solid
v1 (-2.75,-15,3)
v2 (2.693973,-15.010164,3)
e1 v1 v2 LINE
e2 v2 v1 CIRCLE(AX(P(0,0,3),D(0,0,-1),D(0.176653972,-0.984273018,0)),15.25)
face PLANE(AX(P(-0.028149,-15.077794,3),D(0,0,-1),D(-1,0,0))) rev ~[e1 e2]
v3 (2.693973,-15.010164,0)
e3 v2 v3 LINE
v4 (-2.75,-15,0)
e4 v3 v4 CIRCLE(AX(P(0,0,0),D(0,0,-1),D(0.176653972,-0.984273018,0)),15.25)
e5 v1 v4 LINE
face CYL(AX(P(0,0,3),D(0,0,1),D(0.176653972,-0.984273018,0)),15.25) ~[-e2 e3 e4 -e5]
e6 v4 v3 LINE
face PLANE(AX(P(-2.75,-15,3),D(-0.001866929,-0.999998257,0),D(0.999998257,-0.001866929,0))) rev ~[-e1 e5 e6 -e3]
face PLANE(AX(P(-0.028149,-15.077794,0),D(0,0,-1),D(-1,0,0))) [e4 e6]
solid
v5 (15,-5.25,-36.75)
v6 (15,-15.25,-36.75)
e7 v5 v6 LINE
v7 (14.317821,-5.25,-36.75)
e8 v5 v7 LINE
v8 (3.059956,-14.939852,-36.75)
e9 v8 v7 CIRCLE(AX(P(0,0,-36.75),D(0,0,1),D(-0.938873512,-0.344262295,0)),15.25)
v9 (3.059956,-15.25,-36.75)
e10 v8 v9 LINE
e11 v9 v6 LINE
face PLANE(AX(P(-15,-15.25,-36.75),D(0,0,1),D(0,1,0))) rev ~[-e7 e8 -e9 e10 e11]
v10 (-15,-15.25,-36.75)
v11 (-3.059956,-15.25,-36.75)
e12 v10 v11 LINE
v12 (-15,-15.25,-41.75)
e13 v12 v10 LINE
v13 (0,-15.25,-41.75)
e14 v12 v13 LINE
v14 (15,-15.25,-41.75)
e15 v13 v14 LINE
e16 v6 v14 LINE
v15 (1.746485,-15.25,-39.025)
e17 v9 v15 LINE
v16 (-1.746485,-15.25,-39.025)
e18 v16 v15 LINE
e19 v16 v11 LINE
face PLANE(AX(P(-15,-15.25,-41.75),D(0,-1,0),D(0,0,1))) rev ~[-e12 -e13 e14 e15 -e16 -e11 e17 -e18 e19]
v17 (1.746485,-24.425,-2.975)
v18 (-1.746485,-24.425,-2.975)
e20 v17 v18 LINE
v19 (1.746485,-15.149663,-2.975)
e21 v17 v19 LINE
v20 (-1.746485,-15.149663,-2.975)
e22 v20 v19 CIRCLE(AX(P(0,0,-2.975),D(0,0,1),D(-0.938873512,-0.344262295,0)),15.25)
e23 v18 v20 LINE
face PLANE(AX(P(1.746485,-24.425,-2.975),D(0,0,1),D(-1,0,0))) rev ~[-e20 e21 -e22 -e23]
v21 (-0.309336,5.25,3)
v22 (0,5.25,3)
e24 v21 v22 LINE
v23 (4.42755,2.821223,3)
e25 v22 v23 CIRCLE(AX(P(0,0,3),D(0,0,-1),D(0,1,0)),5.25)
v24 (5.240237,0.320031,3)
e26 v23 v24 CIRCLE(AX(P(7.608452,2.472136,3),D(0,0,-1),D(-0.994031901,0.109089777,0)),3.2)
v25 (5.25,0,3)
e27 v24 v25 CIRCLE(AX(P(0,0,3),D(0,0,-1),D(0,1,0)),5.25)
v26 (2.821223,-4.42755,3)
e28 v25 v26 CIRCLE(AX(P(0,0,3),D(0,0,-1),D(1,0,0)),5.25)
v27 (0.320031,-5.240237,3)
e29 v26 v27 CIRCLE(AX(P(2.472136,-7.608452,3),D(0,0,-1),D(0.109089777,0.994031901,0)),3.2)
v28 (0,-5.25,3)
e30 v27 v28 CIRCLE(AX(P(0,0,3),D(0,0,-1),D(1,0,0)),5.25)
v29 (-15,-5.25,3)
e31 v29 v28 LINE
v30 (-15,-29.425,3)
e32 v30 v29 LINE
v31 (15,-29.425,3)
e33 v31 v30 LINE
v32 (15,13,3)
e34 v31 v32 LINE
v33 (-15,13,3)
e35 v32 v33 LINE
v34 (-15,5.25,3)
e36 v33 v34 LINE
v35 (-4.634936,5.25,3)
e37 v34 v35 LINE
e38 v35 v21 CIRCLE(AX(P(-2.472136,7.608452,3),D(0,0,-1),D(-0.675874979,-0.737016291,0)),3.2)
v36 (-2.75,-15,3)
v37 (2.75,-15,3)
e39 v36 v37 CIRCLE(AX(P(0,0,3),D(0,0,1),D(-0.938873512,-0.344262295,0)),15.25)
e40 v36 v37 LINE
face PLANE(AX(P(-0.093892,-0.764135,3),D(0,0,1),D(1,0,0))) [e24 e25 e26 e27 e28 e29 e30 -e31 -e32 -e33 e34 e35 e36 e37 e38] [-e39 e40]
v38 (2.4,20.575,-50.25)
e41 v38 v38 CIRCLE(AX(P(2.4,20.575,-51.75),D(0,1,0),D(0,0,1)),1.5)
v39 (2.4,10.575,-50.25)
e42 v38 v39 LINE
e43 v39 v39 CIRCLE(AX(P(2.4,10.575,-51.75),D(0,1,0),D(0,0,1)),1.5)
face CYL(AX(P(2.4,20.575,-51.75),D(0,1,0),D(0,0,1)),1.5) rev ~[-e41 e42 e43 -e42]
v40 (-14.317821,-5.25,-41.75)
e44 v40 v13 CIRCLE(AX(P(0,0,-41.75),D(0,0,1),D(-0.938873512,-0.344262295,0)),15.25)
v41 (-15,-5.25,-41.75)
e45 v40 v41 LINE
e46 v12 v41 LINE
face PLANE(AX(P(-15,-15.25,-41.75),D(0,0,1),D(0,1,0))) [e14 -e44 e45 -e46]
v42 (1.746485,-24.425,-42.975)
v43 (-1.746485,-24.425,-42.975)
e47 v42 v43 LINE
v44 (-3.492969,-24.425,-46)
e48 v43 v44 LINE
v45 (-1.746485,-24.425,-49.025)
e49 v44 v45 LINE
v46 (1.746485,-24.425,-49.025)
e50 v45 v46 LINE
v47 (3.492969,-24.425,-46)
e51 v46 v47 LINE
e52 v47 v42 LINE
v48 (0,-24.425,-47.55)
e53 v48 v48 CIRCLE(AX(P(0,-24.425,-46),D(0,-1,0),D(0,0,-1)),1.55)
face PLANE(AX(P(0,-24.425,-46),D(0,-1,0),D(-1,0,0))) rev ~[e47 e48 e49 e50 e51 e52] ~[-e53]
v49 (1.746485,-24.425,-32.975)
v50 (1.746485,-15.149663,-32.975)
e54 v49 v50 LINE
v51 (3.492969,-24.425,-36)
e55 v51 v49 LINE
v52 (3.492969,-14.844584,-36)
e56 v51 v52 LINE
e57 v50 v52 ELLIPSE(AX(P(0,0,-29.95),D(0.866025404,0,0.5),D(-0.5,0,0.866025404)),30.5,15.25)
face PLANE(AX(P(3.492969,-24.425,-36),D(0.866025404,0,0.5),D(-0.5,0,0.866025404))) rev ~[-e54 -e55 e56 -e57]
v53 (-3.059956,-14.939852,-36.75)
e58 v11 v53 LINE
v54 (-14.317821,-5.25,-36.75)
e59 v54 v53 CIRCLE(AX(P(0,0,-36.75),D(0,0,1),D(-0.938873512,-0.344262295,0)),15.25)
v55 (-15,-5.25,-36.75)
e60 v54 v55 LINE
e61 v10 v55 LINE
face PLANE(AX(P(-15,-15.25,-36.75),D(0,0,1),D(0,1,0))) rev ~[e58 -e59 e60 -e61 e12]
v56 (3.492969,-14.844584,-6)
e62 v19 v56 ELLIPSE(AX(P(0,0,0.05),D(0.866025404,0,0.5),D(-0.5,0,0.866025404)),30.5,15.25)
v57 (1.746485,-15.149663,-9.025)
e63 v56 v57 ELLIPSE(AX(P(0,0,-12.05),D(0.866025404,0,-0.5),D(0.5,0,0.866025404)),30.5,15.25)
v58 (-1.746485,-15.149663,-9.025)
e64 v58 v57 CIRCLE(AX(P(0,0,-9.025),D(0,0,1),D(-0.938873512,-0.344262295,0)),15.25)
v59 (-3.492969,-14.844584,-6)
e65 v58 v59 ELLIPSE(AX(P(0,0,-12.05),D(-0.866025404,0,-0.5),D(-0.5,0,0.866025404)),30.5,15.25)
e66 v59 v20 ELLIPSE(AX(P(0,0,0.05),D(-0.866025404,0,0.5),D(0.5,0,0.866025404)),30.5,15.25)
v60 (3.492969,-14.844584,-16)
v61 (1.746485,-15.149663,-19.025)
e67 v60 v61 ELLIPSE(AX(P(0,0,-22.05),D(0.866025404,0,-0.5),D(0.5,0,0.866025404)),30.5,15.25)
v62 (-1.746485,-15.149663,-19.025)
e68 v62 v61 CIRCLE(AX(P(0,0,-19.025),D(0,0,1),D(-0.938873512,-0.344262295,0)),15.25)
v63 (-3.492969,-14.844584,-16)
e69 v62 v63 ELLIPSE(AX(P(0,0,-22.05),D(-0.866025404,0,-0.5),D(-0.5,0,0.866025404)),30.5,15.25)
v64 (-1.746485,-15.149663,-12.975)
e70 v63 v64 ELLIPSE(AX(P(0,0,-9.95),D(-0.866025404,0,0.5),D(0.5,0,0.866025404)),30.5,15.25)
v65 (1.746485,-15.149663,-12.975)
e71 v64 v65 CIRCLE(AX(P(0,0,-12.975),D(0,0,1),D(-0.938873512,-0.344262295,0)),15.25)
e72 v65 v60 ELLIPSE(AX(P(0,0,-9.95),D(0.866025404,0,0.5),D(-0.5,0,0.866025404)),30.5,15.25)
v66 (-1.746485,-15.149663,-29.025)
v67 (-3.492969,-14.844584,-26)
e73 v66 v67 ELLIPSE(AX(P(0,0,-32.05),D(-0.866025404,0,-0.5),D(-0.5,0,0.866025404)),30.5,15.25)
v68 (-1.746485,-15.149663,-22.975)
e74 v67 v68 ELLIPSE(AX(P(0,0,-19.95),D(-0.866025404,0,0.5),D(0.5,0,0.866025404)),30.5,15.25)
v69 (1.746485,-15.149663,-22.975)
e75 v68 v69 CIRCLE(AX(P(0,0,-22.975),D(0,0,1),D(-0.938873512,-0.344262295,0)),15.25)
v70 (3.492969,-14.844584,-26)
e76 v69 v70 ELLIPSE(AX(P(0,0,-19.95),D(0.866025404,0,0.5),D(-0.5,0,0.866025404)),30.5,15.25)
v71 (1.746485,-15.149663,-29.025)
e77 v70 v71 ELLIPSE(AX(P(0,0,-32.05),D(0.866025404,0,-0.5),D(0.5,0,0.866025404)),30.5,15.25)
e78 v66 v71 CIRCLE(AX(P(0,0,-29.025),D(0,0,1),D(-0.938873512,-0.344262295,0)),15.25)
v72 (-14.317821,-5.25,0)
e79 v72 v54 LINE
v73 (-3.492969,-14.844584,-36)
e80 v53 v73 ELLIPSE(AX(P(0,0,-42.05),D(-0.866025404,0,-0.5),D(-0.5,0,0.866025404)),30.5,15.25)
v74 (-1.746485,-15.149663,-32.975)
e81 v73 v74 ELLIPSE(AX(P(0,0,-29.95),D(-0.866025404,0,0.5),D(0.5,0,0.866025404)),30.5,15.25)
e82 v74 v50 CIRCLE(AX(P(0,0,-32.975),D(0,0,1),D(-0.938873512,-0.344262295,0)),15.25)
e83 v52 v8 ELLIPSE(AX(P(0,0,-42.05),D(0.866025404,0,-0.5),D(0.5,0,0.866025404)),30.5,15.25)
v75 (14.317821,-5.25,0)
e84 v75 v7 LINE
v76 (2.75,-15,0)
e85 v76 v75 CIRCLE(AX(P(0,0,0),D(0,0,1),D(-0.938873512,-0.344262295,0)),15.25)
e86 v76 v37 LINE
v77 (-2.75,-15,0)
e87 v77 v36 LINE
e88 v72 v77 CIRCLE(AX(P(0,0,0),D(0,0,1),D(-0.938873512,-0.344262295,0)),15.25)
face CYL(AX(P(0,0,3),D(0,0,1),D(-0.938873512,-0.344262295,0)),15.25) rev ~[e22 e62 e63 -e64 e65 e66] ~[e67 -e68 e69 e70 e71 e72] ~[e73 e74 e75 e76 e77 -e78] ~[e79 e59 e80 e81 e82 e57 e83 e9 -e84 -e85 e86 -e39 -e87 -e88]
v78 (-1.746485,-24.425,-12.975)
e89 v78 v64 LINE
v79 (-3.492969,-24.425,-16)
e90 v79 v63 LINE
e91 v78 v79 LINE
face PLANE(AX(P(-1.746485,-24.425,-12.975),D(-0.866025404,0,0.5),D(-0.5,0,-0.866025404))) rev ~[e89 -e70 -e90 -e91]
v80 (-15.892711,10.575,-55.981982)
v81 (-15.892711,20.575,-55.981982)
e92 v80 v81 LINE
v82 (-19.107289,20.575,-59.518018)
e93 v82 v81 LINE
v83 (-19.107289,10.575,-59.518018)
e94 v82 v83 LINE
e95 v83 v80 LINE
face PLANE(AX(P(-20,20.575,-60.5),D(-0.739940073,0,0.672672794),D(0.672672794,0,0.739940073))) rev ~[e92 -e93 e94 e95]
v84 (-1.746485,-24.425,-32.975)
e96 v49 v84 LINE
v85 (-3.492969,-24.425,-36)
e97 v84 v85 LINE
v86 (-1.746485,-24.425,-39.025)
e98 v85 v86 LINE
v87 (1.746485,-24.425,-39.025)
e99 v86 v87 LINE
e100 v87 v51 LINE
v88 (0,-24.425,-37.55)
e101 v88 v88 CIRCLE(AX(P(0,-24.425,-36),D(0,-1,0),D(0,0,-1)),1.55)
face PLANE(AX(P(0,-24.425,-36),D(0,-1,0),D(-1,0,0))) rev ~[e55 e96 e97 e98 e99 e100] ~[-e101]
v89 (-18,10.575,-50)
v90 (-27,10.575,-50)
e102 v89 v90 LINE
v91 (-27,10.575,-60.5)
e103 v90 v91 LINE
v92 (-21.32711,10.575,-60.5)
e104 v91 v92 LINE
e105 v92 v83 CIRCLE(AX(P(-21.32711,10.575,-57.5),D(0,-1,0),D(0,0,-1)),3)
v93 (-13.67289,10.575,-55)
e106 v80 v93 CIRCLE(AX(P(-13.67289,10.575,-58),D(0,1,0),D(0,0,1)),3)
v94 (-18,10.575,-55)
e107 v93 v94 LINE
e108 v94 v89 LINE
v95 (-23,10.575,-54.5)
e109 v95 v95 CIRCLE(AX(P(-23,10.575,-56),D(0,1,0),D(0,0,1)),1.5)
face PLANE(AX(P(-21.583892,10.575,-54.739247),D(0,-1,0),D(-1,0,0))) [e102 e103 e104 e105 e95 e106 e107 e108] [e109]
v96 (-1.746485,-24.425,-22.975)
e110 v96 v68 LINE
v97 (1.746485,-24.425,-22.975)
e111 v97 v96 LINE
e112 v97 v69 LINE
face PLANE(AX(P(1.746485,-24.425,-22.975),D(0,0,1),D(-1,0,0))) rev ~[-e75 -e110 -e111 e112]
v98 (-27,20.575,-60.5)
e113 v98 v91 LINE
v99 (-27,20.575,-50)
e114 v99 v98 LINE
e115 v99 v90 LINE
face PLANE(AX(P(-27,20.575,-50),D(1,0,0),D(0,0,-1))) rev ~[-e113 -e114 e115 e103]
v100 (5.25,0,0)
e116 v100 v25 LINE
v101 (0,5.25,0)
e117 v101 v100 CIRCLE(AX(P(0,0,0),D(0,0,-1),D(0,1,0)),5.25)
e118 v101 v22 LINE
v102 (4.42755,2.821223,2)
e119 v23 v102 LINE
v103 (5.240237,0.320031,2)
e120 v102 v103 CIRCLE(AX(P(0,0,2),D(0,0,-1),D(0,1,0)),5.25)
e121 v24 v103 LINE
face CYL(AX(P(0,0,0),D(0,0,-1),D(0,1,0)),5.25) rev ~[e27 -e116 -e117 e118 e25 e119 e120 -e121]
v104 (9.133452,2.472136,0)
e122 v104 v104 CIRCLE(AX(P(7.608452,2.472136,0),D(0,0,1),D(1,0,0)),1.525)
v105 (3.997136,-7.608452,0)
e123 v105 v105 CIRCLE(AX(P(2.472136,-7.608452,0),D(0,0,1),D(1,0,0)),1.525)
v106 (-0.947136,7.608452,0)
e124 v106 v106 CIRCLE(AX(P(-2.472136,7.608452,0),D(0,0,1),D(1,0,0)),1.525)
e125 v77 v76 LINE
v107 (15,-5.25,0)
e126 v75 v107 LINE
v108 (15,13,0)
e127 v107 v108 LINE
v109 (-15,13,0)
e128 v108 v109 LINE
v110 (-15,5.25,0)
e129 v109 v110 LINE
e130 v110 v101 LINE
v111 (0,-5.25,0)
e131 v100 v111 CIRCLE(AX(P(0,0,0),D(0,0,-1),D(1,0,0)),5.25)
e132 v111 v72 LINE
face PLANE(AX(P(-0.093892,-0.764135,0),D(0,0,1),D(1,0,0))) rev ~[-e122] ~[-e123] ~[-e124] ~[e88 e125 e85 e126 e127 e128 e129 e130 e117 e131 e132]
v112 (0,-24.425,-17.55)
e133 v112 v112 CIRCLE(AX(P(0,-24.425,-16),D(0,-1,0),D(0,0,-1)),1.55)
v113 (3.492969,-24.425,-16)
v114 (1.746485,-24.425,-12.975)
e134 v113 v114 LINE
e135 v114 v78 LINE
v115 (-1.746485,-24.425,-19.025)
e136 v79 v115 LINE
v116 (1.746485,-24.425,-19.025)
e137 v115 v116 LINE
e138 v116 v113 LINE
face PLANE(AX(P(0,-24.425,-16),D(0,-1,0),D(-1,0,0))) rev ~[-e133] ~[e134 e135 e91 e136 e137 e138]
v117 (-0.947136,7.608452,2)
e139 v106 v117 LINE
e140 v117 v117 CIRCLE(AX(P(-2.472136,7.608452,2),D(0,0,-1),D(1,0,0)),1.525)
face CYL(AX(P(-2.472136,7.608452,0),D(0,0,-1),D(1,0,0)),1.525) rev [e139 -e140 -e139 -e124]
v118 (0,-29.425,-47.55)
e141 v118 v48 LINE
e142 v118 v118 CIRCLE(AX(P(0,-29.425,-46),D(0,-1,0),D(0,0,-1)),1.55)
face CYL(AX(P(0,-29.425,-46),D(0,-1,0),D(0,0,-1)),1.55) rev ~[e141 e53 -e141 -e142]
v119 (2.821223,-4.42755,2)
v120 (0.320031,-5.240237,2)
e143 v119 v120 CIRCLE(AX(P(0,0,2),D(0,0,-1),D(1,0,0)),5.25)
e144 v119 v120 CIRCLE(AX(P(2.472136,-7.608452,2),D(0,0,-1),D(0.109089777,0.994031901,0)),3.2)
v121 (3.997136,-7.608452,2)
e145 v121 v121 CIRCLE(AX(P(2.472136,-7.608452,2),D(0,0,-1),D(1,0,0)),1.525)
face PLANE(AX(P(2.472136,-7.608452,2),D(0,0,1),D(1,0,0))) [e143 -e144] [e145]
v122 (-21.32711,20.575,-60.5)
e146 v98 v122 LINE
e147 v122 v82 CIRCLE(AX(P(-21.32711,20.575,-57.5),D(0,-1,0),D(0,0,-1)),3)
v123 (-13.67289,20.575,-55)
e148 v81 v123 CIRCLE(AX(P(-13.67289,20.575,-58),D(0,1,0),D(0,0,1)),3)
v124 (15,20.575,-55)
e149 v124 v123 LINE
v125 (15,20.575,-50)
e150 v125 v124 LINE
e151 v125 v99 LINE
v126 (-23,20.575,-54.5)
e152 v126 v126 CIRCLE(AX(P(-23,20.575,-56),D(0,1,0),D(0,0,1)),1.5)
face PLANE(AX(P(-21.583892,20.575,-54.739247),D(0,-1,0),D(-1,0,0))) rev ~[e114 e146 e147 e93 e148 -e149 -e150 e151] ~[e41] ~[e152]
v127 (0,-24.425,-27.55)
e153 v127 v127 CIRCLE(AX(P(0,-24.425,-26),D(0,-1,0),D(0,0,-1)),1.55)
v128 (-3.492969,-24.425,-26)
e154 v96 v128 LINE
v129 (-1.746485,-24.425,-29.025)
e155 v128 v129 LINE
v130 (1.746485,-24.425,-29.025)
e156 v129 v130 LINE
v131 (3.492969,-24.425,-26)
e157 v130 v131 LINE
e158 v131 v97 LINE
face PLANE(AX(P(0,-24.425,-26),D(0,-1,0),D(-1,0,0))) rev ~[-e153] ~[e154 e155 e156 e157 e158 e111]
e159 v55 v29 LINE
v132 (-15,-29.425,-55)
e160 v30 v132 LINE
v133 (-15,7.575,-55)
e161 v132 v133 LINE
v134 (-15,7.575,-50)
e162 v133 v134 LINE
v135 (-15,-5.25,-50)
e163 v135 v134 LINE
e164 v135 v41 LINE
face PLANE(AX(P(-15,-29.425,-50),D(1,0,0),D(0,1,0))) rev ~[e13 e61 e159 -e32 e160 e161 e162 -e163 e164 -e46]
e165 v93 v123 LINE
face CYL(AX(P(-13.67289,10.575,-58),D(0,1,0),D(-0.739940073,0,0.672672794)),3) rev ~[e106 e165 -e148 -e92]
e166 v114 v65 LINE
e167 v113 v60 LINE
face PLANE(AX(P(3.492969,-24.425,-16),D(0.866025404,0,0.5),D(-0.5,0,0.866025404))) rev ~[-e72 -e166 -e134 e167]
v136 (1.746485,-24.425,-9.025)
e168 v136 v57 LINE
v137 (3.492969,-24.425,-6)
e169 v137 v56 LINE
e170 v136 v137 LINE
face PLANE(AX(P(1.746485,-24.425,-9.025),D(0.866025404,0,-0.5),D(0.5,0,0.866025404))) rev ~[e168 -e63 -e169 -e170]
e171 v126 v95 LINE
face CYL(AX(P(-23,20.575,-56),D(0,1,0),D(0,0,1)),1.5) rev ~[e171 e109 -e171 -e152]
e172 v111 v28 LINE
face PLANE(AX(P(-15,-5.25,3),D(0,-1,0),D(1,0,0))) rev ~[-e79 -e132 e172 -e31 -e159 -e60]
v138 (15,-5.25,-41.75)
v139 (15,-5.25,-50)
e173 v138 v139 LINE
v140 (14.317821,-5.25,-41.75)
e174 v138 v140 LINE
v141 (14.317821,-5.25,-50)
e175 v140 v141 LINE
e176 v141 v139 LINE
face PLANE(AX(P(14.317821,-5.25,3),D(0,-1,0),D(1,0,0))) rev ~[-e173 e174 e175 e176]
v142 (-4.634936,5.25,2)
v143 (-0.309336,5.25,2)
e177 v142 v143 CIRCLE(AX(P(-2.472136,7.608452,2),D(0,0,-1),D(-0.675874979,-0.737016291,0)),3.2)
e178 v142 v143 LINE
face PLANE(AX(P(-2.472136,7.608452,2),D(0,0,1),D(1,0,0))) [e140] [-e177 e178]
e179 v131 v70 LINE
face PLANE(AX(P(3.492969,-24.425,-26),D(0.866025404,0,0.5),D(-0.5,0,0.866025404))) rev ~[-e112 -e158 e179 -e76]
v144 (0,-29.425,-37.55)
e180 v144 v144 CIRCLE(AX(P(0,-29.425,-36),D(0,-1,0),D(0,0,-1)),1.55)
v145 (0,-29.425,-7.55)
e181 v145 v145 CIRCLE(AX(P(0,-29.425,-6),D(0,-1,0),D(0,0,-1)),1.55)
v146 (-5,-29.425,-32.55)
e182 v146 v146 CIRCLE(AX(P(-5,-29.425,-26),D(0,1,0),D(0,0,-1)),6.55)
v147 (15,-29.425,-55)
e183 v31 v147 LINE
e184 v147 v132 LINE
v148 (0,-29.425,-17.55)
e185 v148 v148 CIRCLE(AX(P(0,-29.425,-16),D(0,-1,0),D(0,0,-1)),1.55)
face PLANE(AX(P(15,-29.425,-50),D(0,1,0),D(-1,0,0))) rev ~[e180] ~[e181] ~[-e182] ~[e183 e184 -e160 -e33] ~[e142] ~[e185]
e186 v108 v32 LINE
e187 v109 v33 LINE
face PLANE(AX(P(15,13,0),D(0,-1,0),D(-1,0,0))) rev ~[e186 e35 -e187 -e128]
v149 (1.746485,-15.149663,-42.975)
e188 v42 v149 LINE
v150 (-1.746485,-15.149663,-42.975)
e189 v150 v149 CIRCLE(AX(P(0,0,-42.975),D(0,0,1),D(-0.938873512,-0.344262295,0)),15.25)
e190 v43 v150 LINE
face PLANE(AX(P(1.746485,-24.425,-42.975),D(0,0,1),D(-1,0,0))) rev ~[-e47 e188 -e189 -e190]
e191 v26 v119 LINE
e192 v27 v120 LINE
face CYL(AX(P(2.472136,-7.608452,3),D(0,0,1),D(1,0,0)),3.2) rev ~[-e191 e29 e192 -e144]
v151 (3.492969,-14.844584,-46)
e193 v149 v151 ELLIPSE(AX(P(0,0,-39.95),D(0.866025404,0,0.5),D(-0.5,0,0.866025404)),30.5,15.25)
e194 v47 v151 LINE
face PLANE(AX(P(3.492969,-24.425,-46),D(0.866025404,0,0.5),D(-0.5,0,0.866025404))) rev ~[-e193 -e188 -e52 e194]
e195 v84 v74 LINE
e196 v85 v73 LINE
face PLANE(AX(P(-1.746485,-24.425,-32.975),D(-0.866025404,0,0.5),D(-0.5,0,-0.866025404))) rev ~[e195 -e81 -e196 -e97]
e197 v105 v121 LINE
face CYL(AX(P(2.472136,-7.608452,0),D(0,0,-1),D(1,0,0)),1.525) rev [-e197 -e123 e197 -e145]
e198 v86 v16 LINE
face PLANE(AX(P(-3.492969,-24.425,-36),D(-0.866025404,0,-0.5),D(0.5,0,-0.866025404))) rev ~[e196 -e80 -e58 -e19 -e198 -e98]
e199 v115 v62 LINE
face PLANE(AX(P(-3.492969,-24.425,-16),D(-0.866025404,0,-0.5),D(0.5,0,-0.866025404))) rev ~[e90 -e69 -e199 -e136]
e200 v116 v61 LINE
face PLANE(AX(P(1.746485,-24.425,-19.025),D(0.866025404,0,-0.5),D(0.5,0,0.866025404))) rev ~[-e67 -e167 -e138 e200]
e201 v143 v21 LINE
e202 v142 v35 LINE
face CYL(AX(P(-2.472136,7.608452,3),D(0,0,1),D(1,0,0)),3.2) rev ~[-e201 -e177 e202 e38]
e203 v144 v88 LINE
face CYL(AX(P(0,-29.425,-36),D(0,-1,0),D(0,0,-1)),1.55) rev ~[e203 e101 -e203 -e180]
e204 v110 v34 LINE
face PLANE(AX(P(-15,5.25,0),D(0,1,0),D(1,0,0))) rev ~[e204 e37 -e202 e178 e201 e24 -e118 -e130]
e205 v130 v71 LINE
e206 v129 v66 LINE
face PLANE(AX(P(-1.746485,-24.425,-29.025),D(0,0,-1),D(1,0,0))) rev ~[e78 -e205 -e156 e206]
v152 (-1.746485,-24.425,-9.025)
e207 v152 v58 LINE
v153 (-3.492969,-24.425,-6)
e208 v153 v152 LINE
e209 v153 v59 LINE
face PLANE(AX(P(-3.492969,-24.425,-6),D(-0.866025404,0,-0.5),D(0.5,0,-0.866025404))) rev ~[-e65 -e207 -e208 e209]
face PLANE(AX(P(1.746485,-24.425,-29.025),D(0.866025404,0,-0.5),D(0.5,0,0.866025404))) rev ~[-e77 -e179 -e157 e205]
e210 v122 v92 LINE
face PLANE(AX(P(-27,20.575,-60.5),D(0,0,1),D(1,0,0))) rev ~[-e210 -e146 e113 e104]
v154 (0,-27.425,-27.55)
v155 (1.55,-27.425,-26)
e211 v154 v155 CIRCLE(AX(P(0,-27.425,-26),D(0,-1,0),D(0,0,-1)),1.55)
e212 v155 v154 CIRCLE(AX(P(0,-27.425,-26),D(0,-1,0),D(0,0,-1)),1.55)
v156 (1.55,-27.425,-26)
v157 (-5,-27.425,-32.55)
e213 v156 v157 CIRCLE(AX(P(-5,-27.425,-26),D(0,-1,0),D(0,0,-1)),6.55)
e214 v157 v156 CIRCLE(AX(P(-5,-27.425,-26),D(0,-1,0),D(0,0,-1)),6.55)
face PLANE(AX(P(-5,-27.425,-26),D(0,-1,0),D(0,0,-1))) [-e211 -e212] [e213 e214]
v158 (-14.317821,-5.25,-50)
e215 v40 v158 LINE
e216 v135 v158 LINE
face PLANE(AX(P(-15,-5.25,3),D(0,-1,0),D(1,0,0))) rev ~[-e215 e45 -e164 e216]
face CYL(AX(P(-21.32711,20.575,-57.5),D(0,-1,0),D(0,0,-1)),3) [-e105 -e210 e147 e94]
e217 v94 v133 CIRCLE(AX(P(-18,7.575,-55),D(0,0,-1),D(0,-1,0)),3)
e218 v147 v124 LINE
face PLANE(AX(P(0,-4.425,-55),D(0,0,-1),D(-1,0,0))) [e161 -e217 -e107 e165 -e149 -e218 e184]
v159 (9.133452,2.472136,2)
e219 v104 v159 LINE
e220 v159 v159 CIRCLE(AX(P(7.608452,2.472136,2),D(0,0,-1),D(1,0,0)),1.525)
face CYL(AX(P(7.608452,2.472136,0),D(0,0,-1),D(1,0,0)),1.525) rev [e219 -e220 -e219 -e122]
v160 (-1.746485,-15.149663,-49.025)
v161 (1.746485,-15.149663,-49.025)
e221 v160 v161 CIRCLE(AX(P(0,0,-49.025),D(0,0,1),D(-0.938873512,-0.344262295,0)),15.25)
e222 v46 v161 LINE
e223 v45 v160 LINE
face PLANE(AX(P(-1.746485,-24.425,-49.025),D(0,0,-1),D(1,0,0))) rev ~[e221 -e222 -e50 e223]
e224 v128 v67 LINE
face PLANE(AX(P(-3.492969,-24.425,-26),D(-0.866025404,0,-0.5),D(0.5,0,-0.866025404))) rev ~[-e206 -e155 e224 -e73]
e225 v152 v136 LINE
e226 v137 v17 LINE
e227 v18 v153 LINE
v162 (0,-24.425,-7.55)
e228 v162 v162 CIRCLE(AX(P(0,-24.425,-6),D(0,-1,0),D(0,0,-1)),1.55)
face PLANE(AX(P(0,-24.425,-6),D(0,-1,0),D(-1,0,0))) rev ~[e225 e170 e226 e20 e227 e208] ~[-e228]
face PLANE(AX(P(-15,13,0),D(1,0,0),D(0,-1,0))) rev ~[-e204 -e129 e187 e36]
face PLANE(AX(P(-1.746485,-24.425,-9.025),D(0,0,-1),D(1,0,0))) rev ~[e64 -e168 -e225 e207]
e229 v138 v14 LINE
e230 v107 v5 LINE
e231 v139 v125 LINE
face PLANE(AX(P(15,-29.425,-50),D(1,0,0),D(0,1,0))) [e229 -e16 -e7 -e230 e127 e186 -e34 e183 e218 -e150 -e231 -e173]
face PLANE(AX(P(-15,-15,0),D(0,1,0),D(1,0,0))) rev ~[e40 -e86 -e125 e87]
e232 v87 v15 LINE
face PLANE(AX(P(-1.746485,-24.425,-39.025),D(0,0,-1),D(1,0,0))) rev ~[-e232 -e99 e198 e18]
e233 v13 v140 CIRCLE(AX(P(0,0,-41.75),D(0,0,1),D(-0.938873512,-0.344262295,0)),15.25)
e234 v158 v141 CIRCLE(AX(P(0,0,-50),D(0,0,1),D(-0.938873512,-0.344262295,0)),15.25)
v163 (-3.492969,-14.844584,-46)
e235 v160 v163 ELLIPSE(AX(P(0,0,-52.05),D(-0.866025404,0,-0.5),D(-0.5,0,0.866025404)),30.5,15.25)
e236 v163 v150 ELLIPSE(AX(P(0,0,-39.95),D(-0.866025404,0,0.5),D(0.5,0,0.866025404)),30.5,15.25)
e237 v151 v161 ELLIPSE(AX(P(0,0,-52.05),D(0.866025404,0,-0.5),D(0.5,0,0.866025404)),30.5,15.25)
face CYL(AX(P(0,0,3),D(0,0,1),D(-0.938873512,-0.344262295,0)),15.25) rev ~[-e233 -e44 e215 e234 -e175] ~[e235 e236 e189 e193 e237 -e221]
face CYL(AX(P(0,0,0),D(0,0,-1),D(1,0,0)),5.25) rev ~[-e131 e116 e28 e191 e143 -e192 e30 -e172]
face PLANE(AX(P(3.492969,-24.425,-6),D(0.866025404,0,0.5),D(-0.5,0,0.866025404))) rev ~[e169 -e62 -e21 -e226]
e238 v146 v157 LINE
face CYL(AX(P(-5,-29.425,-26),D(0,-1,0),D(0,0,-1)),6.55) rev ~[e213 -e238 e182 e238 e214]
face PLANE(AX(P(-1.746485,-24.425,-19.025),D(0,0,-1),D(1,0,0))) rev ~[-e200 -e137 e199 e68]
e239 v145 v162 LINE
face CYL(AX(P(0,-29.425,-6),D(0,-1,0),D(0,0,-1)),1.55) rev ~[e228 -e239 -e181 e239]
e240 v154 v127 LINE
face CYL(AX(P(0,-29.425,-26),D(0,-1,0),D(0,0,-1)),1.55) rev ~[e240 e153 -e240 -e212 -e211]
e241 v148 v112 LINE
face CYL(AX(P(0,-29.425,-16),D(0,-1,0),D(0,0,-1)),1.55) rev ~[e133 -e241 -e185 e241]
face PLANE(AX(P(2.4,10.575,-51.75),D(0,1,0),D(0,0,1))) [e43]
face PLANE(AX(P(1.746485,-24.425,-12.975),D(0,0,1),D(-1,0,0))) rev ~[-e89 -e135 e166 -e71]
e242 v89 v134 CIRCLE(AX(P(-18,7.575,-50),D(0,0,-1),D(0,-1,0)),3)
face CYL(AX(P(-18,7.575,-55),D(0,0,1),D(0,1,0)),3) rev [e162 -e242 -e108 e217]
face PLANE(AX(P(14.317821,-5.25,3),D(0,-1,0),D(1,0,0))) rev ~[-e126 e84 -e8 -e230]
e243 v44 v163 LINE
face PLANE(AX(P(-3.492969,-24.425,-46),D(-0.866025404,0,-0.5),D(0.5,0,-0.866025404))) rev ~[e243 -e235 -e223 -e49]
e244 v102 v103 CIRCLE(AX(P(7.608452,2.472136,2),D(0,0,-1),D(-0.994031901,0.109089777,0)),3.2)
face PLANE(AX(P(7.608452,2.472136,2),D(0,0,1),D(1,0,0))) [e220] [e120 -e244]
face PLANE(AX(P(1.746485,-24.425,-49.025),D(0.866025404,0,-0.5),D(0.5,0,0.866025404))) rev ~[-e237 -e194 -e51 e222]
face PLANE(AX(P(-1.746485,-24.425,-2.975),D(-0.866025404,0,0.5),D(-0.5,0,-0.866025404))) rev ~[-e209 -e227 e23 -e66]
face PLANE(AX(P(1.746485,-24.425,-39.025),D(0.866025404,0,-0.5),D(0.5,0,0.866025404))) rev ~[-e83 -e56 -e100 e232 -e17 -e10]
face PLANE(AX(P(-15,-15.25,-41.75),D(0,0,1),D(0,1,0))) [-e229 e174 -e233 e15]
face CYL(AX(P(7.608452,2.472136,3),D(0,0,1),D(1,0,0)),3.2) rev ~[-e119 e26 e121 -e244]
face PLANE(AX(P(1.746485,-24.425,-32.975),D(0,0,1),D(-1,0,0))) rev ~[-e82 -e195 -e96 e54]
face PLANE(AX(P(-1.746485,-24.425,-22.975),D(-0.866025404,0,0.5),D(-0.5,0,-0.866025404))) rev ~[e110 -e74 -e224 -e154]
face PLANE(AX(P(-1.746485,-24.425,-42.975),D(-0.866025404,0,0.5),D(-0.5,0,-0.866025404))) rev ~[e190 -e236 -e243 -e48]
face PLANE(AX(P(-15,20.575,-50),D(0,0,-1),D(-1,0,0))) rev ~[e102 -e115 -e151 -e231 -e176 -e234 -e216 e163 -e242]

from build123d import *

# Parameters (mm, degrees)
SKETCH1_R           = 1.525
BOSS_EXTRUDE1_DEPTH = 3
BOSS_EXTRUDE2_DEPTH = 53
SKETCH3_R           = 1.55
CUT_EXTRUDE1_DEPTH  = 68.267232922
BOSS_EXTRUDE3_DEPTH = 3
CUT_EXTRUDE2_START  = -5
SKETCH5_R           = 1.55
CUT_EXTRUDE2_DEPTH  = 63.267232996
SKETCH6_R           = 3.2
CUT_EXTRUDE3_DEPTH  = 1
SKETCH7_W           = 30
SKETCH7_H           = 50
BOSS_EXTRUDE4_DEPTH = 5
SKETCH9_W           = 5
SKETCH9_H           = 20
CUT_EXTRUDE6_DEPTH  = 70.215826406
SKETCH10_R          = 6.55
CUT_EXTRUDE7_DEPTH  = 2
SKETCH11_R          = 1.5
BOSS_EXTRUDE5_DEPTH = 10
SKETCH12_R          = 1.5
CUT_EXTRUDE8_DEPTH  = 10
FILLET1_R           = 3
FILLET2_R           = 3


with BuildPart() as part:
    # Sketch1 → Boss-Extrude1 (new body)
    with BuildSketch(Plane.XY):
        with BuildLine():
            Line((-15, -15), (15, -15))
            Line((15, -15), (15, 13))
            Line((15, 13), (-15, 13))
            Line((-15, 13), (-15, 5.25))
            Line((-15, 5.25), (0, 5.25))
            ThreePointArc((0, 5.25), (3.712310601, 3.712310601), (5.25, 0))
            ThreePointArc((5.25, 0), (3.712310601, -3.712310601), (0, -5.25))
            Line((0, -5.25), (-15, -5.25))
            Line((-15, -5.25), (-15, -15))
        make_face()
        with Locations((-2.472135955, 7.60845213)):
            Circle(SKETCH1_R, mode=Mode.SUBTRACT)
        with Locations((7.60845213, 2.472135955)):
            Circle(SKETCH1_R, mode=Mode.SUBTRACT)
        with Locations((2.472135955, -7.60845213)):
            Circle(SKETCH1_R, mode=Mode.SUBTRACT)
    extrude(amount=BOSS_EXTRUDE1_DEPTH)

    # Sketch2 → Boss-Extrude2 (add)
    with BuildSketch(Plane.XY.offset(3)):
        with BuildLine():
            Line((-15, -15), (-15, -5.25))
            Line((-15, -5.25), (-14.317821063, -5.25))
            ThreePointArc((-14.317821063, -5.25), (0, -15.25), (14.317821063, -5.25))
            Line((14.317821063, -5.25), (15, -5.25))
            Line((15, -5.25), (15, -15))
            Line((15, -15), (15, -29.425))
            Line((15, -29.425), (-15, -29.425))
            Line((-15, -29.425), (-15, -15))
        make_face()
    extrude(amount=-BOSS_EXTRUDE2_DEPTH)

    # Sketch3 → Cut-Extrude1 (cut, through all)
    with BuildSketch(Plane(origin=(0, -29.425, 0), x_dir=(-1, 0, 0), z_dir=(0, -1, 0))):
        with Locations(Location((0, 46, 0), (0, 0, 90))):
            Circle(SKETCH3_R)
        with Locations(Location((0, 36, 0), (0, 0, 90))):
            Circle(SKETCH3_R)
        with Locations(Location((0, 26, 0), (0, 0, 90))):
            Circle(SKETCH3_R)
        with Locations(Location((0, 16, 0), (0, 0, 90))):
            Circle(SKETCH3_R)
        with Locations(Location((0, 6, 0), (0, 0, 90))):
            Circle(SKETCH3_R)
    extrude(amount=-CUT_EXTRUDE1_DEPTH, mode=Mode.SUBTRACT)

    # Sketch5 → Cut-Extrude2 (cut, through all)
    # profile 1 of 5: a face of its own
    with BuildSketch(Plane(origin=(0, -29.425, 0), x_dir=(-1, 0, 0), z_dir=(0, -1, 0)).offset(CUT_EXTRUDE2_START)):
        Polygon((1.746484564, 32.975), (3.492969129, 36), (1.746484564, 39.025), (-1.746484564, 39.025), (-3.492969129, 36), (-1.746484564, 32.975), align=None)
        with Locations(Location((0, 36, 0), (0, 0, 90))):
            Circle(SKETCH5_R, mode=Mode.SUBTRACT)
    # profile 2 of 5: a face of its own
    with BuildSketch(Plane(origin=(0, -29.425, 0), x_dir=(-1, 0, 0), z_dir=(0, -1, 0)).offset(CUT_EXTRUDE2_START)):
        Polygon((1.746484564, 42.975), (3.492969129, 46), (1.746484564, 49.025), (-1.746484564, 49.025), (-3.492969129, 46), (-1.746484564, 42.975), align=None)
        with Locations(Location((0, 46, 0), (0, 0, 90))):
            Circle(SKETCH5_R, mode=Mode.SUBTRACT)
    # profile 3 of 5: a face of its own
    with BuildSketch(Plane(origin=(0, -29.425, 0), x_dir=(-1, 0, 0), z_dir=(0, -1, 0)).offset(CUT_EXTRUDE2_START)):
        Polygon((1.746484564, 22.975), (3.492969129, 26), (1.746484564, 29.025), (-1.746484564, 29.025), (-3.492969129, 26), (-1.746484564, 22.975), align=None)
        with Locations(Location((0, 26, 0), (0, 0, 90))):
            Circle(SKETCH5_R, mode=Mode.SUBTRACT)
    # profile 4 of 5: a face of its own
    with BuildSketch(Plane(origin=(0, -29.425, 0), x_dir=(-1, 0, 0), z_dir=(0, -1, 0)).offset(CUT_EXTRUDE2_START)):
        Polygon((1.746484564, 12.975), (3.492969129, 16), (1.746484564, 19.025), (-1.746484564, 19.025), (-3.492969129, 16), (-1.746484564, 12.975), align=None)
        with Locations(Location((0, 16, 0), (0, 0, 90))):
            Circle(SKETCH5_R, mode=Mode.SUBTRACT)
    # profile 5 of 5: a face of its own
    with BuildSketch(Plane(origin=(0, -29.425, 0), x_dir=(-1, 0, 0), z_dir=(0, -1, 0)).offset(CUT_EXTRUDE2_START)):
        Polygon((1.746484564, 2.975), (3.492969129, 6), (1.746484564, 9.025), (-1.746484564, 9.025), (-3.492969129, 6), (-1.746484564, 2.975), align=None)
        with Locations(Location((0, 6, 0), (0, 0, 90))):
            Circle(SKETCH5_R, mode=Mode.SUBTRACT)
    extrude(amount=-CUT_EXTRUDE2_DEPTH, mode=Mode.SUBTRACT)

    # Sketch6 → Cut-Extrude3 (cut)
    with BuildSketch(Plane.XY.offset(3)):
        with Locations((2.472135955, -7.60845213)):
            Circle(SKETCH6_R)
        with Locations((-2.472135955, 7.60845213)):
            Circle(SKETCH6_R)
        with Locations((7.60845213, 2.472135955)):
            Circle(SKETCH6_R)
    extrude(amount=-CUT_EXTRUDE3_DEPTH, mode=Mode.SUBTRACT)

    # Sketch7 → Boss-Extrude4 (add)
    with BuildSketch(Plane(origin=(0, 0, -50), x_dir=(-1, 0, 0), z_dir=(0, 0, -1))):
        with Locations((0, -4.425)):
            Rectangle(SKETCH7_W, SKETCH7_H)
    extrude(amount=BOSS_EXTRUDE4_DEPTH)

    # Sketch9 → Cut-Extrude6 (cut, through all)
    with BuildSketch(Plane.ZY.offset(15)):
        with Locations((-39.25, -5.25)):
            Rectangle(SKETCH9_W, SKETCH9_H)
    extrude(amount=-CUT_EXTRUDE6_DEPTH, mode=Mode.SUBTRACT)

    # Sketch10 → Cut-Extrude7 (cut)
    with BuildSketch(Plane(origin=(0, -29.425, 0), x_dir=(-1, 0, 0), z_dir=(0, -1, 0))):
        with Locations(Location((5, 26, 0), (0, 0, 90))):
            Circle(SKETCH10_R)
    extrude(amount=-CUT_EXTRUDE7_DEPTH, mode=Mode.SUBTRACT)

    # Sketch11 → Boss-Extrude5 (add)
    with BuildSketch(Plane(origin=(0, 20.575, 0), x_dir=(1, 0, 0), z_dir=(0, 1, 0))):
        Polygon((-15, 50), (-27, 50), (-27, 60.5), (-20, 60.5), (-15, 55), align=None)
        with Locations(Location((-23, 56, 0), (0, 0, 270))):
            Circle(SKETCH11_R, mode=Mode.SUBTRACT)
    extrude(amount=-BOSS_EXTRUDE5_DEPTH)

    # Sketch12 → Cut-Extrude8 (cut)
    with BuildSketch(Plane(origin=(0, 20.575, 0), x_dir=(1, 0, 0), z_dir=(0, 1, 0))):
        with Locations(Location((2.4, 51.75, 0), (0, 0, 270))):
            Circle(SKETCH12_R)
    extrude(amount=-CUT_EXTRUDE8_DEPTH, mode=Mode.SUBTRACT)

    # Fillet1
    fillet1_edges = [part.edges().sort_by_distance(p)[0] for p in [
        (-20, 15.575, -60.5),
        (-15, 15.575, -55),
    ]]
    fillet(fillet1_edges, radius=FILLET1_R)

    # Fillet2
    fillet2_edges = [part.edges().sort_by_distance(p)[0] for p in [
        (-15, 10.575, -52.5),
    ]]
    fillet(fillet2_edges, radius=FILLET2_R)


with BuildPart() as body_2:
    # Sketch4 → Boss-Extrude3 (new body)
    with BuildSketch(Plane.XY.offset(3)):
        with BuildLine():
            Line((-2.75, -15), (2.693973064, -15.010163528))
            ThreePointArc((2.693973064, -15.010163528), (-0.028470664, -15.249973424), (-2.75, -15))
        make_face()
    extrude(amount=-BOSS_EXTRUDE3_DEPTH)


solid = Compound([part.part, body_2.part])
